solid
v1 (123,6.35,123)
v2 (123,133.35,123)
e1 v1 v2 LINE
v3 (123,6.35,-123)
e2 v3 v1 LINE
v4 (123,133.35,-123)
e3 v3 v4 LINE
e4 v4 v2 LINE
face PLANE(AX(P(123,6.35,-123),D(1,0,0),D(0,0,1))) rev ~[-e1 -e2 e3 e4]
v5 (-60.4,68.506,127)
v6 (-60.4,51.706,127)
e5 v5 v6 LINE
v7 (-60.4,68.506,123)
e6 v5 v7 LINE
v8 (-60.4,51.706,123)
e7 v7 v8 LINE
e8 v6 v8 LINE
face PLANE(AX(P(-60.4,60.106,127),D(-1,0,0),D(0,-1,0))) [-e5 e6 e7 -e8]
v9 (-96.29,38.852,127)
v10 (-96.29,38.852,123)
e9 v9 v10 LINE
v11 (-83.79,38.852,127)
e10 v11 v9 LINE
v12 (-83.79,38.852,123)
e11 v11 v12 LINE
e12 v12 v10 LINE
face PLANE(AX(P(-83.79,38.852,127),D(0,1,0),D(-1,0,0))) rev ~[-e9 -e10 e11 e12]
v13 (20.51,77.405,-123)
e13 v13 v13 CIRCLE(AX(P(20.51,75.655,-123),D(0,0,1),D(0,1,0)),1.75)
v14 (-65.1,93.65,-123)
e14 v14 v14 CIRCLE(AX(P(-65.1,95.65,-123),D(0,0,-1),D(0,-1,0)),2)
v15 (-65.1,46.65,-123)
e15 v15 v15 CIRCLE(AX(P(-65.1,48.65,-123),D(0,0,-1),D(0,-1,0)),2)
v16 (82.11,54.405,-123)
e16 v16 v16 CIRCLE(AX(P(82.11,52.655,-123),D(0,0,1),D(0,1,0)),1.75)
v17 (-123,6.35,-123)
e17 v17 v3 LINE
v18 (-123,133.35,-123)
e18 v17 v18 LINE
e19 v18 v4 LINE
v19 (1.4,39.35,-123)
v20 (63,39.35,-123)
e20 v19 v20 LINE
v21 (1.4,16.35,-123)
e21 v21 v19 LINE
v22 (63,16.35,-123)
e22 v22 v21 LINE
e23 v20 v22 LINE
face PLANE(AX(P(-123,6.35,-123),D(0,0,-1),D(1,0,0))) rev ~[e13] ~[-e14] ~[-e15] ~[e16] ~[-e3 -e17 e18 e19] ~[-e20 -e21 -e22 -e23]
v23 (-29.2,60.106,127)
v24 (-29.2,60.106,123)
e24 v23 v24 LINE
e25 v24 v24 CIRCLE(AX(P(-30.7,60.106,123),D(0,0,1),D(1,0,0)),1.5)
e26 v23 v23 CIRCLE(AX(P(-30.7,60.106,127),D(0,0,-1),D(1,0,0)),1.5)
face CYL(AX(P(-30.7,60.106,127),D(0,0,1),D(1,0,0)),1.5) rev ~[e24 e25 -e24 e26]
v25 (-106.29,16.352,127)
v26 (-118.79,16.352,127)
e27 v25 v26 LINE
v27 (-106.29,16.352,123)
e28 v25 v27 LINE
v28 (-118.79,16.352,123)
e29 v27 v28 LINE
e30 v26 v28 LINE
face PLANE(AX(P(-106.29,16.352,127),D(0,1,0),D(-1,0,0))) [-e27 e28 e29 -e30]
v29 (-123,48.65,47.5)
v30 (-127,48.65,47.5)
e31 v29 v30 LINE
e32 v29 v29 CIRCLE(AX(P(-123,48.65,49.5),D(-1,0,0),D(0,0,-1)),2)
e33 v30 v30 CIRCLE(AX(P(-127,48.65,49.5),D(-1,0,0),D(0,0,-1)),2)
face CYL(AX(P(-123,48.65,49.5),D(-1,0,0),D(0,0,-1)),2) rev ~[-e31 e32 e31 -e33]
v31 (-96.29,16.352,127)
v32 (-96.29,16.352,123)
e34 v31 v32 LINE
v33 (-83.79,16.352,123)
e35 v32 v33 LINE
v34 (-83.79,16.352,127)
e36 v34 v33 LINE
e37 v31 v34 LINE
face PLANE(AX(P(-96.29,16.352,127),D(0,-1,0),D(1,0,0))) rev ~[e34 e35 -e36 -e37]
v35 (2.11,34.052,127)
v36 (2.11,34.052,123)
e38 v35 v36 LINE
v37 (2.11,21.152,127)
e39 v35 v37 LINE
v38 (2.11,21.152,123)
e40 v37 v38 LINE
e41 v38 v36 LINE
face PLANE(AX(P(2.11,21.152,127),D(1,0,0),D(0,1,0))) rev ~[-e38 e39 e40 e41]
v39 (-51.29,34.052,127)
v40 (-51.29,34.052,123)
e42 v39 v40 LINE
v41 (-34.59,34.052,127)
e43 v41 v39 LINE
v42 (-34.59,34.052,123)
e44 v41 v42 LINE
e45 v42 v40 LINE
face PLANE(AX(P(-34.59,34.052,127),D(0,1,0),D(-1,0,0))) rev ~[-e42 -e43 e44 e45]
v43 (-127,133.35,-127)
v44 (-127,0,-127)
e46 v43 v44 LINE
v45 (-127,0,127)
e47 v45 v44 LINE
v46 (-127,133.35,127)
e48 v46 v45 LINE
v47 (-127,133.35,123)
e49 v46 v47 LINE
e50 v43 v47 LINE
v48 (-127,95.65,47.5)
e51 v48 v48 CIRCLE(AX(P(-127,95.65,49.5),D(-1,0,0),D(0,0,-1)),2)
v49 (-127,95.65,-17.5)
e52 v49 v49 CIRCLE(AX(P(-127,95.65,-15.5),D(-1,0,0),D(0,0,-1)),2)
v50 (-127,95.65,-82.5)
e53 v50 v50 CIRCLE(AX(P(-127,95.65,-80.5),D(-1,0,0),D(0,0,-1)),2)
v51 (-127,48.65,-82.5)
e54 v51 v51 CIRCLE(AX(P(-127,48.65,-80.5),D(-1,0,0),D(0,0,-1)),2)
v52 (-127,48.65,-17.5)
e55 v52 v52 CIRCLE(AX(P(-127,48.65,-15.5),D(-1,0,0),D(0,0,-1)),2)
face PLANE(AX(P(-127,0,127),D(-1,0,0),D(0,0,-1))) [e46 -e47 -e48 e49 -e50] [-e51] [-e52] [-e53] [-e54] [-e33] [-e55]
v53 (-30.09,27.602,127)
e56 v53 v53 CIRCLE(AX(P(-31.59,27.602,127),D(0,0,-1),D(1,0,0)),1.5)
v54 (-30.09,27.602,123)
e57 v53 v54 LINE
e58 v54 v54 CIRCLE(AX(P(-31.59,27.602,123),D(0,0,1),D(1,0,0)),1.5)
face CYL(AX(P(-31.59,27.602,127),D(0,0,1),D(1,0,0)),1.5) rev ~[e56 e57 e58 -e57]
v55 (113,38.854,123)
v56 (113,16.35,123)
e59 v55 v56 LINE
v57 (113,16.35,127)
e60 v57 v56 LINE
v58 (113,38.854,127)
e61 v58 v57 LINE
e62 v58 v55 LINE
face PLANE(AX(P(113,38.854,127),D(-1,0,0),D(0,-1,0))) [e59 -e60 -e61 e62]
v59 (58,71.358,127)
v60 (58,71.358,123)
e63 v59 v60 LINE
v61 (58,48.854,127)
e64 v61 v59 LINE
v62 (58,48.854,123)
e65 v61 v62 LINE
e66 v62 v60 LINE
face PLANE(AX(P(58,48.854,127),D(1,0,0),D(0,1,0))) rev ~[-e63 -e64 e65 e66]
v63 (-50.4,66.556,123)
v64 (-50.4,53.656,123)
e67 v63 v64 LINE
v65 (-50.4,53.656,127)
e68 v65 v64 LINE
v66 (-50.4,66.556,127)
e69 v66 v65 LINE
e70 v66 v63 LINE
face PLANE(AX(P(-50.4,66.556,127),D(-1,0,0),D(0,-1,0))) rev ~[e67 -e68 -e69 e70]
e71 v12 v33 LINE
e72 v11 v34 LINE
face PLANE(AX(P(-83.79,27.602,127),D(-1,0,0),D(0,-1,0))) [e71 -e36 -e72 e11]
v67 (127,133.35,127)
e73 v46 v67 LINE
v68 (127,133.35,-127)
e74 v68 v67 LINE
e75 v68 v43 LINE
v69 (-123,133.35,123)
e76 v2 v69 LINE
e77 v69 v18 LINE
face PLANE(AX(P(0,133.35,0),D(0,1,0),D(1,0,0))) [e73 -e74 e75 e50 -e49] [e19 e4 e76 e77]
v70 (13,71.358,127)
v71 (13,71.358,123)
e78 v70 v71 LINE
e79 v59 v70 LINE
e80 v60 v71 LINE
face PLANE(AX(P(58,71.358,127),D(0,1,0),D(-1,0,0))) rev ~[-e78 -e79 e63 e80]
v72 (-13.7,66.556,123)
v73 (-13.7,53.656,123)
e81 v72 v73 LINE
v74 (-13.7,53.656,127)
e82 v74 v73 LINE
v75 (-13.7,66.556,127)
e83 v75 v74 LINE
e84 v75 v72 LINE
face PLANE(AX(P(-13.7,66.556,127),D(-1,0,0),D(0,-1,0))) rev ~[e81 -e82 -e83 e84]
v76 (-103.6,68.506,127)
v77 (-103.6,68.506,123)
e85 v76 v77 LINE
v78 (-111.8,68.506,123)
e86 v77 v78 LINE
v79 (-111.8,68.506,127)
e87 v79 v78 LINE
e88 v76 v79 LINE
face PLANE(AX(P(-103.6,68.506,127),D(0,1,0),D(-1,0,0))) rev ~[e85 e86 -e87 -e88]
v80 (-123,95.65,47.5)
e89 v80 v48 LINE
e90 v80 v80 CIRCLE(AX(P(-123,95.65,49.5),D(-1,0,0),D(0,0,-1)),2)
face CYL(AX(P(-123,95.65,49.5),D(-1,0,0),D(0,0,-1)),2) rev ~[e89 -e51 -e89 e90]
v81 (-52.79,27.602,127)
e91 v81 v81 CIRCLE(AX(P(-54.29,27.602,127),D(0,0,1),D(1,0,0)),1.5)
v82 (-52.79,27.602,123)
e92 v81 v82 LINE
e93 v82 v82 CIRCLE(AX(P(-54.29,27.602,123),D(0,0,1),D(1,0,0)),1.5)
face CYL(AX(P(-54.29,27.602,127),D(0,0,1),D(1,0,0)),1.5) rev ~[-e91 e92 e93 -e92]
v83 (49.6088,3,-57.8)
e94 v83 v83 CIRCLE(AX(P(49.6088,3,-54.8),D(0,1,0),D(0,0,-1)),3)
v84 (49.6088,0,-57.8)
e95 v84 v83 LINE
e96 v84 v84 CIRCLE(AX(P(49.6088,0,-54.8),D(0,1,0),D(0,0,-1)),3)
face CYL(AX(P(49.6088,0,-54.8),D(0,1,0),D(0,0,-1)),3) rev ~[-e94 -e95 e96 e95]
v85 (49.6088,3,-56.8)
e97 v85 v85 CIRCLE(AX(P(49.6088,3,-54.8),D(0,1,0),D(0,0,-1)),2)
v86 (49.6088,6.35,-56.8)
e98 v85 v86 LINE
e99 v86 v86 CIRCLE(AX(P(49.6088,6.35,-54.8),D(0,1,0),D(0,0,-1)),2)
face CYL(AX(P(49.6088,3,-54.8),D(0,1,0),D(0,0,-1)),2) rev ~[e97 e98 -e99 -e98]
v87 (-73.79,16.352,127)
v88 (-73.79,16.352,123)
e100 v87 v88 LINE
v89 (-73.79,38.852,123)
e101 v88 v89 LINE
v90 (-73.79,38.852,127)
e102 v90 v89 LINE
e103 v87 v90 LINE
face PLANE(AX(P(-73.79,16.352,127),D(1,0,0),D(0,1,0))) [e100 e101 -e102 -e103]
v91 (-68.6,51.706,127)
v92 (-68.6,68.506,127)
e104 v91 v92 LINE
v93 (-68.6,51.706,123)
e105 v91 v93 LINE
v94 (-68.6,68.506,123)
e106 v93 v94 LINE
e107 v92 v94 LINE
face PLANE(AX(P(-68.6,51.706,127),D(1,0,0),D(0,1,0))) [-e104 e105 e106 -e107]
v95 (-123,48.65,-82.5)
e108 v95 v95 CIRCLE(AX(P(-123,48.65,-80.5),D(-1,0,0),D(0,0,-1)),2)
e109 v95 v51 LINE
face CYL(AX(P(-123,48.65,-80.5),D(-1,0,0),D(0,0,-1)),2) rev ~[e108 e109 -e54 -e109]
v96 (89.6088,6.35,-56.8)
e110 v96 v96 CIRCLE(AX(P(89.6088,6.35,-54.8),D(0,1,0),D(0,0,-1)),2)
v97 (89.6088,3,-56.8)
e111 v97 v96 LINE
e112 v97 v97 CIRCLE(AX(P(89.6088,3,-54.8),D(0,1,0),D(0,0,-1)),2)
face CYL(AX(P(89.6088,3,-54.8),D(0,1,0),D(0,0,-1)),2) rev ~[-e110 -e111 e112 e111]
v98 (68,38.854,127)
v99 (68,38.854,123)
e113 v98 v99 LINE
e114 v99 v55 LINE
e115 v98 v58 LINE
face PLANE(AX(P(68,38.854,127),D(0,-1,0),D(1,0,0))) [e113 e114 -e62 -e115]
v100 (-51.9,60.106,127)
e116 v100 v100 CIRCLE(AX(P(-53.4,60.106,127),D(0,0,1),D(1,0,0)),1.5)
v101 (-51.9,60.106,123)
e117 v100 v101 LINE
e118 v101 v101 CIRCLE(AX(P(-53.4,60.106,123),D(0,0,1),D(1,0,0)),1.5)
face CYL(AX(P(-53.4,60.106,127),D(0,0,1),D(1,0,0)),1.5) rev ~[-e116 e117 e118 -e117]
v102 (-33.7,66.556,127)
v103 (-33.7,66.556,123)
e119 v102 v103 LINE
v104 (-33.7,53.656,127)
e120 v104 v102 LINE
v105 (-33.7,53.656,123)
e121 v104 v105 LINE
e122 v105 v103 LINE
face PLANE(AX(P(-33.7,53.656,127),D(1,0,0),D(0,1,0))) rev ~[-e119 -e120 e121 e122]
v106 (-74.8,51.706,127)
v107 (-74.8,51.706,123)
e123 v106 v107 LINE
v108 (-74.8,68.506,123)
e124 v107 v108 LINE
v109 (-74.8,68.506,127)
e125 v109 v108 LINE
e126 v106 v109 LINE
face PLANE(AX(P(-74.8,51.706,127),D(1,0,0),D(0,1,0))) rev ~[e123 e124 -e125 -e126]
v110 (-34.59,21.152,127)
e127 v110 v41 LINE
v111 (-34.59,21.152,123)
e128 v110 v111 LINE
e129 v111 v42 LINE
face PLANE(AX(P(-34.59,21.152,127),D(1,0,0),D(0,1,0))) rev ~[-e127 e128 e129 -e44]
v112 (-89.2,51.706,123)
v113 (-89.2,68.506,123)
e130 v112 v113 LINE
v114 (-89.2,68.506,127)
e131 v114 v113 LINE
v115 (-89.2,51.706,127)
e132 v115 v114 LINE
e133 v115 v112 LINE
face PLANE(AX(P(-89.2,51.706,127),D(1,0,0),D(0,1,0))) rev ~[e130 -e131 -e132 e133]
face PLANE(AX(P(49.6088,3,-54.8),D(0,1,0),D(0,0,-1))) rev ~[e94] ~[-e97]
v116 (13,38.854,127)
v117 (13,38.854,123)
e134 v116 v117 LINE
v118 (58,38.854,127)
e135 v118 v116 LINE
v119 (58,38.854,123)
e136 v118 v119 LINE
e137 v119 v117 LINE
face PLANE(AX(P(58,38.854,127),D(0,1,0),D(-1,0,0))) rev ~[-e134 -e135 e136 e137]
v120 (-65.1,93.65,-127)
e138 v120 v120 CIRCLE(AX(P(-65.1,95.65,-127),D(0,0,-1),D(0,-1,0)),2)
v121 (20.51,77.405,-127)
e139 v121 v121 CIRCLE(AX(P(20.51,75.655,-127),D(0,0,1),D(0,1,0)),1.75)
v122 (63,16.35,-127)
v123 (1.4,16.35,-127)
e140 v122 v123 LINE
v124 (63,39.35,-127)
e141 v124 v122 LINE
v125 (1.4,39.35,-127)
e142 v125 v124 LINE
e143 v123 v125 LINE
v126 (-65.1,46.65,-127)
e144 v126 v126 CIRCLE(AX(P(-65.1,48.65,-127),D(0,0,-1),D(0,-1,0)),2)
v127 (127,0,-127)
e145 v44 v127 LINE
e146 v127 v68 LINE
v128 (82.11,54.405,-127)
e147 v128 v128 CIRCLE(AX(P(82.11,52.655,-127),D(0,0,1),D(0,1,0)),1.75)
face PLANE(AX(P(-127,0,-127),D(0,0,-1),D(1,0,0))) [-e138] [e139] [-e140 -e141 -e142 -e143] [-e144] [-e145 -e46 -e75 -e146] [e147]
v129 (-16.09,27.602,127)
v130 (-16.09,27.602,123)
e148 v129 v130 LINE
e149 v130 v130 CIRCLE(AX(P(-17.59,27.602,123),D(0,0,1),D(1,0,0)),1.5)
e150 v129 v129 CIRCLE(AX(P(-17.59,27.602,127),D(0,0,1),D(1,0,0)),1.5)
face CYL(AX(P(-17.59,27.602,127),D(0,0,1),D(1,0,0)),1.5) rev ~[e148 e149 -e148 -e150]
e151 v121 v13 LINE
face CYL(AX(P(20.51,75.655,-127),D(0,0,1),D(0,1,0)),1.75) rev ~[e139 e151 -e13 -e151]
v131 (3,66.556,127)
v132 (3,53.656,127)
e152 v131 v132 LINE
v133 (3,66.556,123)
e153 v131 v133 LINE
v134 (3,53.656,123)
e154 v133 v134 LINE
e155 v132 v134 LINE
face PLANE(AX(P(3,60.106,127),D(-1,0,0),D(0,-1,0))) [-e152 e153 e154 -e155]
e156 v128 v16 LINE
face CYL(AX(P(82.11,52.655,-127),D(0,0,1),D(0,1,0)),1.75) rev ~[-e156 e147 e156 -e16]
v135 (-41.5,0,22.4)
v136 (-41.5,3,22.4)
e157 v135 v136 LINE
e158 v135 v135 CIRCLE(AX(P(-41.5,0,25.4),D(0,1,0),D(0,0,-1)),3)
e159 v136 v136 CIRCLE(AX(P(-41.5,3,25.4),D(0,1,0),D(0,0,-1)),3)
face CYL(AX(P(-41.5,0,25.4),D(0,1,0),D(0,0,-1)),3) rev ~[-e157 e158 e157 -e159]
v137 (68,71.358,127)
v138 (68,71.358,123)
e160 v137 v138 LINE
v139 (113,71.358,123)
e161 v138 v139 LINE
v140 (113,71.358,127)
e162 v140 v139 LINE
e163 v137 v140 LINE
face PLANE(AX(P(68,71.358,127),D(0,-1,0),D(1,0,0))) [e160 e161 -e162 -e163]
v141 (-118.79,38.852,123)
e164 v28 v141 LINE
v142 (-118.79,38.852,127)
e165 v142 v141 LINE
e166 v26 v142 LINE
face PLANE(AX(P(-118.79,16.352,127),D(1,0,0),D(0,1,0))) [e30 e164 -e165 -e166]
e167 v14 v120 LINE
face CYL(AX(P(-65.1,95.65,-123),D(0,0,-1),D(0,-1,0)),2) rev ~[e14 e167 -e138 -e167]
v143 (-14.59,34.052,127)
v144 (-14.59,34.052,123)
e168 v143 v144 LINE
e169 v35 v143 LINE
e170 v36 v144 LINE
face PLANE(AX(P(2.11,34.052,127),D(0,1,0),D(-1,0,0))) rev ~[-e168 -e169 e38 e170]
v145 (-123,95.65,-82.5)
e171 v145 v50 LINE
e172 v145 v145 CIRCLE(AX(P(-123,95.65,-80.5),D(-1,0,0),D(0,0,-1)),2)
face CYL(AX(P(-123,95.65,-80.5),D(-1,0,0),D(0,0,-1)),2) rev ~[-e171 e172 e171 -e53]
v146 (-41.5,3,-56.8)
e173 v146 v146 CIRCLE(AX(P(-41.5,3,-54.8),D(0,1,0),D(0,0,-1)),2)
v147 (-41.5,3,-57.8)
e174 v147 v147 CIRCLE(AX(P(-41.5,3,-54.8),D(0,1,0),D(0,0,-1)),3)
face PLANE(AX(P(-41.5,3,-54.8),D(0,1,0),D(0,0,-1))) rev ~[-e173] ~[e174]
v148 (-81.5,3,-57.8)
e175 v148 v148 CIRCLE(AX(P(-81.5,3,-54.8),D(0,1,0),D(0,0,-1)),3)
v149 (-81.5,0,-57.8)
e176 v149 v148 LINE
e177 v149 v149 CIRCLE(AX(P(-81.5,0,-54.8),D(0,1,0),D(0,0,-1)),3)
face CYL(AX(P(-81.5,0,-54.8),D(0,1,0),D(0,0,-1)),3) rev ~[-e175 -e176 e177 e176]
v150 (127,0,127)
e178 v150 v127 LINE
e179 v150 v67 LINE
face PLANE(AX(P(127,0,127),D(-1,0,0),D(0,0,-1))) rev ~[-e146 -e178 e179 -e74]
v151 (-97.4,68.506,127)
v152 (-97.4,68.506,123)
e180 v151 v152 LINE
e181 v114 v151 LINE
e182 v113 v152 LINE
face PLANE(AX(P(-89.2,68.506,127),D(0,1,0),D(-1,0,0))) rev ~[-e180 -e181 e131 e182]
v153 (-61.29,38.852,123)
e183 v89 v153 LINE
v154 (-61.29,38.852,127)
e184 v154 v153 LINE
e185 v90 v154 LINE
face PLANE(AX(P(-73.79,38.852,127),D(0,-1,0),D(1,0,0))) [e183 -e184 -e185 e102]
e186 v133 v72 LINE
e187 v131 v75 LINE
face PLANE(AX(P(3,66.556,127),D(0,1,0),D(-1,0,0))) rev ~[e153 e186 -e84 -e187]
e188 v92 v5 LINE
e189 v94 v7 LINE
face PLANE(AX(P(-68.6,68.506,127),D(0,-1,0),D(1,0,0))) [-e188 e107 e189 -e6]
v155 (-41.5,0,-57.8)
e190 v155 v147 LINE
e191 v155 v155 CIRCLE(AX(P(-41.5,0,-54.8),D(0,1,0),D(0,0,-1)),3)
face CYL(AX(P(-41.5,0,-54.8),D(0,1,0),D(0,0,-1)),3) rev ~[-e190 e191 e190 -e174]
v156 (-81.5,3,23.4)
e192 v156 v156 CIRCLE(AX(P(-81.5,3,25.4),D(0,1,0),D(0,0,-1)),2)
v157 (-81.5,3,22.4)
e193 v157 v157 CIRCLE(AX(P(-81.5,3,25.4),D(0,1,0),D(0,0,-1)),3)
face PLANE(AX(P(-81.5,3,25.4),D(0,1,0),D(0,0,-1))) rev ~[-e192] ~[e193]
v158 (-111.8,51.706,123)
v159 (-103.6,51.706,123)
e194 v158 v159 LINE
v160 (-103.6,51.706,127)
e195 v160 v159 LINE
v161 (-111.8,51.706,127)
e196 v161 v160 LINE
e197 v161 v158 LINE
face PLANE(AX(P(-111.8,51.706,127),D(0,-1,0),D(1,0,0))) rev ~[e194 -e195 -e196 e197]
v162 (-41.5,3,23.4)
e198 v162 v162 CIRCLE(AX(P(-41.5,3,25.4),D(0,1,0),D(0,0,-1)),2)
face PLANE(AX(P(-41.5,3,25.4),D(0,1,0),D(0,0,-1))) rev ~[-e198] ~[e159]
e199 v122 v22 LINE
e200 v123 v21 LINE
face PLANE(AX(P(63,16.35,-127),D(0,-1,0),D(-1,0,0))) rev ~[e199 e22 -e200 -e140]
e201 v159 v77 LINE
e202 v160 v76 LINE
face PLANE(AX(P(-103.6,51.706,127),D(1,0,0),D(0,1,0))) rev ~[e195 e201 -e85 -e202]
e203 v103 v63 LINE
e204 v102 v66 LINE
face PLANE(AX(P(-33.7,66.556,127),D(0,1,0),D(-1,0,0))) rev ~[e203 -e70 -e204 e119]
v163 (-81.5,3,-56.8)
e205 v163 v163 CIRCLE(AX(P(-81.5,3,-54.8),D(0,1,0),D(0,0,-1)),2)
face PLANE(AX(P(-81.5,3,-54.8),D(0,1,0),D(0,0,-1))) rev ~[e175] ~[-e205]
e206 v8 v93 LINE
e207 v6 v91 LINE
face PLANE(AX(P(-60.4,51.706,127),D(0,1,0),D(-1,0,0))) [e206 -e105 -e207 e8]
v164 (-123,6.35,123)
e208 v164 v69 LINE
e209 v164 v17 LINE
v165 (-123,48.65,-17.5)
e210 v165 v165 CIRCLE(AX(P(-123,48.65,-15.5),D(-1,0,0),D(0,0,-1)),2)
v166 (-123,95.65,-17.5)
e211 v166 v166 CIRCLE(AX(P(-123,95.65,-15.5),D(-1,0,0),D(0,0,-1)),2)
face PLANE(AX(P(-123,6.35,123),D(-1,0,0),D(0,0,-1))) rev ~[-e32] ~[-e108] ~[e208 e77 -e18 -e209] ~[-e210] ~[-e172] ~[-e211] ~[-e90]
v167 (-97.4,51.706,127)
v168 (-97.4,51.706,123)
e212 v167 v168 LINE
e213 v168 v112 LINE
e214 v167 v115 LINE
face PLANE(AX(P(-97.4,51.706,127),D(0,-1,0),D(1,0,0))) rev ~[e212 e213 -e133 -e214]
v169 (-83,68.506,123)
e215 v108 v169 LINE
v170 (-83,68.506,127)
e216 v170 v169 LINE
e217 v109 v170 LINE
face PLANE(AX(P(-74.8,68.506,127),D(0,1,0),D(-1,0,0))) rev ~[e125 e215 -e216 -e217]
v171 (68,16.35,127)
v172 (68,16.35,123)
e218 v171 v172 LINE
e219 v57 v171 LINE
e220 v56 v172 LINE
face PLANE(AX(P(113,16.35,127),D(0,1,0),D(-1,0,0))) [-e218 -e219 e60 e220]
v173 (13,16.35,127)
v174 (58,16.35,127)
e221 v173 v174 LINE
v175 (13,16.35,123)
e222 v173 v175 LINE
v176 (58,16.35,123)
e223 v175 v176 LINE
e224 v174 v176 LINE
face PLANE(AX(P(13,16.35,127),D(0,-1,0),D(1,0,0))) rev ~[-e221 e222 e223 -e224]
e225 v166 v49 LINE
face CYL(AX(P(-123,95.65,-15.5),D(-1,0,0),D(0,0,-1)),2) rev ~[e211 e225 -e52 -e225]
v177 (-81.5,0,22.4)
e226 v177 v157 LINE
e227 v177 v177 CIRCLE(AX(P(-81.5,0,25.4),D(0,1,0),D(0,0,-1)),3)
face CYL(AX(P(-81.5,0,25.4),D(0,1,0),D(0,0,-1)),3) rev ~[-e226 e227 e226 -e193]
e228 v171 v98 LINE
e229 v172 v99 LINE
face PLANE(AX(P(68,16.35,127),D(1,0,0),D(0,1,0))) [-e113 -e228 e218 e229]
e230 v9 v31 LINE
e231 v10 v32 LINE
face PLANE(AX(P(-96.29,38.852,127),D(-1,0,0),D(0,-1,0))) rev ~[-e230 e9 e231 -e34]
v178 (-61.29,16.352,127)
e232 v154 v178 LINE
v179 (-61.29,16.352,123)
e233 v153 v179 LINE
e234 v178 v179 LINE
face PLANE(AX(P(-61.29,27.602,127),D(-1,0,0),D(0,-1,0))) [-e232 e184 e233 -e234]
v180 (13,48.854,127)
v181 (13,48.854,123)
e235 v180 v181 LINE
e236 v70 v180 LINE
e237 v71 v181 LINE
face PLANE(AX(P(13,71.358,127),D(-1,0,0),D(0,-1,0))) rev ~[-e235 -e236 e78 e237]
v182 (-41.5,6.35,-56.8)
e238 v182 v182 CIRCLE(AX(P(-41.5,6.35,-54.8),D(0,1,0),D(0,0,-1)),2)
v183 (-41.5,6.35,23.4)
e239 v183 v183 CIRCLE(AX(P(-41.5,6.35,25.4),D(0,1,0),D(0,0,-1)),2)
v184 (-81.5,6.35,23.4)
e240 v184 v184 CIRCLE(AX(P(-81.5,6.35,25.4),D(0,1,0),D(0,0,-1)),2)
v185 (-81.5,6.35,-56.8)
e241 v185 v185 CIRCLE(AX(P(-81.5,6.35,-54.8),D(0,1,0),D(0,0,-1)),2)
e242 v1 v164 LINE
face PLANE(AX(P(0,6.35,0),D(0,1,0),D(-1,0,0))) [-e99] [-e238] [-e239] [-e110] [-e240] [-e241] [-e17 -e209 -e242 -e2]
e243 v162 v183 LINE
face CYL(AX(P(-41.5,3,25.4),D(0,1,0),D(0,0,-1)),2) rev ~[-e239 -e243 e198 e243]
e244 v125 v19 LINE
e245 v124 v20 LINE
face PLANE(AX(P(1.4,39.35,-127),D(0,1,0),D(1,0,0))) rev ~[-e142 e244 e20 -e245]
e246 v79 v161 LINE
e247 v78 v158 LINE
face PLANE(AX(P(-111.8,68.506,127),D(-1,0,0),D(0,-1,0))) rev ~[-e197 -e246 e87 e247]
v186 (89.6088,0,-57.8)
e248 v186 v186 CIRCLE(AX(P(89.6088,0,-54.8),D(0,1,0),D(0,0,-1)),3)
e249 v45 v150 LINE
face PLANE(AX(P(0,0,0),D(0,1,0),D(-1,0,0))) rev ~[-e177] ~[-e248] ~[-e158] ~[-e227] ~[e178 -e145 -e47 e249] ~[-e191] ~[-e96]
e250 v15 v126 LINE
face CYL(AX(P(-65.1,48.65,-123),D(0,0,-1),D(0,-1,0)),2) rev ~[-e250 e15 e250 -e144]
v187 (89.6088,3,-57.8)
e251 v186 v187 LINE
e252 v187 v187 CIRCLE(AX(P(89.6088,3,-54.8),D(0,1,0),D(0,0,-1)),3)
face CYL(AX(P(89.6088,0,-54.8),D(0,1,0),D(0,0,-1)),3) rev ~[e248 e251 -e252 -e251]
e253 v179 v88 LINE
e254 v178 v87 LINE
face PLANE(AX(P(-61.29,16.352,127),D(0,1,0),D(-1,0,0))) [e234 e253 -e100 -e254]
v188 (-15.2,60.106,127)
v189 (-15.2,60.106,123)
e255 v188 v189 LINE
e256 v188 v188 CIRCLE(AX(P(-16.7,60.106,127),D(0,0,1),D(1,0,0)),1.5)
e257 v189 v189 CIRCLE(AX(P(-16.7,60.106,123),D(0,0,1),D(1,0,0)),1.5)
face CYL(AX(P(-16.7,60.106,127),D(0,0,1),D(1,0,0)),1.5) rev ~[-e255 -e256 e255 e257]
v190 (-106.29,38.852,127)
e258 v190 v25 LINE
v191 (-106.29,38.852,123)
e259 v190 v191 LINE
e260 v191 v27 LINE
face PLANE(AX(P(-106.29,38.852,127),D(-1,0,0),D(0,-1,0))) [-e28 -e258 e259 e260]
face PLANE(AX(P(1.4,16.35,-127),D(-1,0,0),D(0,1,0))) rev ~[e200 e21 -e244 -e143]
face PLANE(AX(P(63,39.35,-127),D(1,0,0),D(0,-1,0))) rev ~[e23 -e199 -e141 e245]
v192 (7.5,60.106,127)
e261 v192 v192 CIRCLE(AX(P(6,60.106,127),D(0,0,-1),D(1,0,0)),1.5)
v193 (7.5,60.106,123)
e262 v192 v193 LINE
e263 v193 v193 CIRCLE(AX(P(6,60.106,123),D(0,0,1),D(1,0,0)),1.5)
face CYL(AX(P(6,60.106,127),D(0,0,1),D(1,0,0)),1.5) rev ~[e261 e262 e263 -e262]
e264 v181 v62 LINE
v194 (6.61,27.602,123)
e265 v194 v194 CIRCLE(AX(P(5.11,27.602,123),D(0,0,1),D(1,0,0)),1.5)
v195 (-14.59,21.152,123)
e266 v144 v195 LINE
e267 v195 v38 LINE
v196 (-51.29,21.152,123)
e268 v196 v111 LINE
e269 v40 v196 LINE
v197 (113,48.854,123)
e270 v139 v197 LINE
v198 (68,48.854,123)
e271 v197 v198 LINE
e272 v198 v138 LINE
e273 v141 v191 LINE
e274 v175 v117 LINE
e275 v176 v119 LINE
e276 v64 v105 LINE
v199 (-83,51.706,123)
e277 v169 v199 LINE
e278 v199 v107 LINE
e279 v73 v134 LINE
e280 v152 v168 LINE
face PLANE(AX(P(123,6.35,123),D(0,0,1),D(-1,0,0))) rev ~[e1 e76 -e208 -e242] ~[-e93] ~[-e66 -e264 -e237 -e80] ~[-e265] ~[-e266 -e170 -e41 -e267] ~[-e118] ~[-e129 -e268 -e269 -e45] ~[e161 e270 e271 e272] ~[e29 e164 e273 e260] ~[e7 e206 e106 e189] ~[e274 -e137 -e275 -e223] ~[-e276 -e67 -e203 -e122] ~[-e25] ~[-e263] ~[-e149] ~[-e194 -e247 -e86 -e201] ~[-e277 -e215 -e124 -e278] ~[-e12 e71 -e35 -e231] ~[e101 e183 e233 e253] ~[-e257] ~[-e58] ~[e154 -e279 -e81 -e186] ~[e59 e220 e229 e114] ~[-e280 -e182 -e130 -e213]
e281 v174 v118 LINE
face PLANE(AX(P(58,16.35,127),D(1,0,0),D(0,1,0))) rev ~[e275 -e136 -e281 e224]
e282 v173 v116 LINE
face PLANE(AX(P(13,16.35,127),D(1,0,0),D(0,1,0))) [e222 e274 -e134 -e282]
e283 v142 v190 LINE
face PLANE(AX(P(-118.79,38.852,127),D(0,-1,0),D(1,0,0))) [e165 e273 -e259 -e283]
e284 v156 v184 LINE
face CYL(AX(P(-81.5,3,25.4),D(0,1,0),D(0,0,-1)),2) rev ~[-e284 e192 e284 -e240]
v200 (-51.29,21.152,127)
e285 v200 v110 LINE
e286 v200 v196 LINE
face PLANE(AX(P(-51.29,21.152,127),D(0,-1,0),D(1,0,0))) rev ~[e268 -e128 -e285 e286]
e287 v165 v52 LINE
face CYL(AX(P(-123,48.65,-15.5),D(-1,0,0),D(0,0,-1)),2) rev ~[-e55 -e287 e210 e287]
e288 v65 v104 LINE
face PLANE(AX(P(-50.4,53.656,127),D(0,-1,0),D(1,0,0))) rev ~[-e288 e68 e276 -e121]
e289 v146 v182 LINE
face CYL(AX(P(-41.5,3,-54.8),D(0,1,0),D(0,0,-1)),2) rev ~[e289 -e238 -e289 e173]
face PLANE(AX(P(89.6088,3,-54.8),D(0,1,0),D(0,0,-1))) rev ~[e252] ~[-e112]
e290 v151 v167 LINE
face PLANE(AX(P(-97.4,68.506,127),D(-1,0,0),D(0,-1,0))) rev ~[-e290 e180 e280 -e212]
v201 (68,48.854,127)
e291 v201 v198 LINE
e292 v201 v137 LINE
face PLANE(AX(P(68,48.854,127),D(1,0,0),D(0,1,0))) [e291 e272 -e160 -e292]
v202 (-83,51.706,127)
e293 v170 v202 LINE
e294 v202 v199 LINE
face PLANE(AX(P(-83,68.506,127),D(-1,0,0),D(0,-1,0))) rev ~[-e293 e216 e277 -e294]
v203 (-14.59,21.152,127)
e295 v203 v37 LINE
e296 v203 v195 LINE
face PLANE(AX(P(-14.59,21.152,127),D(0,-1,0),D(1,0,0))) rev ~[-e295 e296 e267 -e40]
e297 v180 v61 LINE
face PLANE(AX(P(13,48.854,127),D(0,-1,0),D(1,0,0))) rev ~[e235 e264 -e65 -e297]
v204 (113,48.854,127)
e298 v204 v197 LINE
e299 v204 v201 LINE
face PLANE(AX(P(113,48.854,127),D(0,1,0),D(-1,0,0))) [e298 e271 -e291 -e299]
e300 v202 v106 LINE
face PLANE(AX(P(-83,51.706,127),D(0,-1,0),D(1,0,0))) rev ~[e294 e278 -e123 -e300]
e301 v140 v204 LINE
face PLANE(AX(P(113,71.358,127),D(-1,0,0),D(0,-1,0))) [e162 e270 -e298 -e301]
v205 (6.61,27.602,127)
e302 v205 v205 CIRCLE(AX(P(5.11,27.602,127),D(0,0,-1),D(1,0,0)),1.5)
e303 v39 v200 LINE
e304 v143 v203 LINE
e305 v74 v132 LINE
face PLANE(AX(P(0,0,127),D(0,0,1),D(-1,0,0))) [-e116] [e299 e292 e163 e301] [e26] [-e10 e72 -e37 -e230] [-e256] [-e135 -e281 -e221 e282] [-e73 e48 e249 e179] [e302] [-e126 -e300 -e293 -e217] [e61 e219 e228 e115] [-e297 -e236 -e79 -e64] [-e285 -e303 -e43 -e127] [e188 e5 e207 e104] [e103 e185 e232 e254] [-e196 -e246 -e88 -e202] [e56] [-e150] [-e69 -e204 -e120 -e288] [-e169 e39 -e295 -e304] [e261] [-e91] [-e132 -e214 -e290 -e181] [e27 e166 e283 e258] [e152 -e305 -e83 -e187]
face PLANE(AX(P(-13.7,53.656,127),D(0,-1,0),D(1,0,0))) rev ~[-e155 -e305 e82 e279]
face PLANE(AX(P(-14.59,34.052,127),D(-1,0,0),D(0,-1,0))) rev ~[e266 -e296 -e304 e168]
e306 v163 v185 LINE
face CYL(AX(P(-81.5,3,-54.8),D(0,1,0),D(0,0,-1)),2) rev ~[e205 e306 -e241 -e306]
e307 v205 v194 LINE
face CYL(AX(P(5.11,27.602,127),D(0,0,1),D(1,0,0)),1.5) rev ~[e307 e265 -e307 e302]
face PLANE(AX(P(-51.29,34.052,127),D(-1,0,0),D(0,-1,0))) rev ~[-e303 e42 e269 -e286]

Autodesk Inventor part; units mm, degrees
ref_plane "YZ Plane" through (0, 0, 0) normal (1, 0, 0) x (0, 1, 0)
ref_plane "XZ Plane" through (0, 0, 0) normal (0, 1, 0) x (-1, 0, 0)
ref_plane "XY Plane" through (0, 0, 0) normal (0, 0, 1) x (1, 0, 0)
sketch "Sketch1" plane through (0, 0, 0) normal (0, 1, 0) x (-1, 0, 0)
  line L0 (0, 0) -> (0, 127)
  line L1 (0, 127) -> (127, 127)
  line L2 (127, 127) -> (127, -127)
  line L3 (127, -127) -> (-127, -127)
  line L4 (0, 127) -> (-127, 127)
  line L5 (-127, 127) -> (-127, -127)
  dimension "d0" = 127
  dimension "d1" = 127
  dimension "d2" = 254
  dimension "d3" = 254
  dimension "d4" = 127
extrude "Extrusion1" add sketch "Sketch1" along normal blind 6.35
sketch "Sketch2" plane through (0, 6.35, 0) normal (0, 1, 0) x (1, 0, 0)
  line L0 (-127, -127) -> (127, -127) projected
  line L1 (-127, -127) -> (-127, -123)
  line L2 (-127, 127) -> (-127, -127) projected
  line L3 (-127, -123) -> (-123, -123)
  line L4 (-123, -123) -> (-123, 123)
  line L5 (-123, 123) -> (123, 123)
  line L6 (127, 127) -> (-127, 127) projected
  line L7 (123, 123) -> (123, -123)
  line L8 (123, -123) -> (-123, -123)
  line L9 (-127, -127) -> (127, -127)
  line L10 (127, 127) -> (127, -127)
  line L11 (-127, 127) -> (127, 127)
  line L12 (-127, 127) -> (-127, -127)
  point P0 (0, 0)
  dimension "d7" = 4
  dimension "d8" = 4
  dimension "d9" = 246
  dimension "d10" = 246
  dimension "d11" = 90
extrude "Extrusion2" add sketch "Sketch2" along normal blind 127
sketch "Sketch3" plane through (-127, 0, 127) normal (0, 0, 1) x (1, 0, 0)
  line L0 (4, 6.35) -> (250, 6.35) projected
  line L1 (250, 6.35) -> (250, 16.35)
  line L2 (250, 6.35) -> (250, 133.35) projected
  line L3 (250, 16.35) -> (240, 16.35)
  line L4 (240, 16.35) -> (195, 16.35)
  line L5 (195, 16.35) -> (195, 38.854)
  line L6 (195, 38.854) -> (240, 38.854)
  line L7 (240, 38.854) -> (240, 16.35)
  line L8 (240, 38.854) -> (240, 48.854)
  line L9 (240, 48.854) -> (195, 48.854)
  line L10 (195, 48.854) -> (195, 71.358)
  line L11 (195, 71.358) -> (240, 71.358)
  line L12 (240, 71.358) -> (240, 48.854)
  line L13 (195, 48.854) -> (185, 48.854)
  line L14 (185, 48.854) -> (185, 71.358)
  line L15 (185, 71.358) -> (140, 71.358)
  line L16 (140, 71.358) -> (140, 48.854)
  line L17 (140, 48.854) -> (185, 48.854)
  line L18 (185, 48.854) -> (185, 38.854)
  line L19 (185, 38.854) -> (140, 38.854)
  line L20 (140, 16.35) -> (140, 38.854)
  line L21 (140, 16.35) -> (185, 16.35)
  line L22 (185, 16.35) -> (185, 38.854)
  point P0 (127, 0)
  dimension "d14" = 10
  dimension "d15" = 10
  dimension "d16" = 45
  dimension "d17" = 22.504
  dimension "d18" = 10
  dimension "d19" = 22.504
  dimension "d20" = 10
  dimension "d21" = 45
sketch "Sketch4" plane through (-127, 0, 127) normal (0, 0, 1) x (1, 0, 0)
  line L0 (140, 71.358) -> (140, 48.854) projected
  line L1 (0, 0) -> (254, 0) projected
  line L2 (254, 0) -> (254, 133.35) projected
  line L3 (0, 133.35) -> (254, 133.35) projected
  line L4 (0, 0) -> (0, 133.35) projected
  line L5 (140, 16.35) -> (140, 38.854) projected
  line L6 (140, 60.106) -> (130, 60.106)
  line L7 (130, 60.106) -> (130, 66.556)
  line L8 (130, 66.556) -> (130, 60.106)
  line L9 (130, 60.106) -> (130, 53.656)
  line L10 (130, 66.556) -> (113.3, 66.556)
  line L11 (113.3, 66.556) -> (113.3, 53.656)
  line L12 (113.3, 53.656) -> (130, 53.656)
  line L13 (113.3, 66.556) -> (93.3, 66.556)
  line L14 (93.3, 66.556) -> (76.6, 66.556)
  line L15 (76.6, 66.556) -> (76.6, 53.656)
  line L16 (76.6, 53.656) -> (93.3, 53.656)
  line L17 (93.3, 53.656) -> (93.3, 66.556)
  line L18 (140, 27.602) -> (129.11, 27.602)
  line L19 (129.11, 27.602) -> (129.11, 34.052)
  line L20 (129.11, 34.052) -> (112.41, 34.052)
  line L21 (112.41, 34.052) -> (112.41, 21.152)
  line L22 (112.41, 21.152) -> (129.11, 21.152)
  line L23 (129.11, 21.152) -> (129.11, 27.602)
  line L24 (112.41, 34.052) -> (92.41, 34.052)
  line L25 (92.41, 34.052) -> (75.71, 34.052)
  line L26 (75.71, 21.152) -> (92.41, 21.152)
  line L27 (92.41, 21.152) -> (92.41, 34.052)
  line L28 (75.71, 34.052) -> (75.71, 21.152)
  point P0 (127, 0)
  dimension "d22" = 10
  dimension "d23" = 6.45
  dimension "d24" = 6.45
  dimension "d25" = 16.7
  dimension "d26" = 20
  dimension "d27" = 16.7
  dimension "d28" = 6.45
  dimension "d29" = 12.9
  dimension "d162" = 20
  dimension "d163" = 16.7
  dimension "d164" = 16.7
extrude "Extrusion4" cut sketch "Sketch4" against normal blind 101.6 contours L9 L12 L11 L10 L7 | L17 L16 L15 L14 | L23 L22 L21 L20 L19 | L27 L26 L28 L25
extrude "Extrusion5" cut sketch "Sketch3" against normal blind 19
sketch "Sketch6" plane through (-127, 0, 127) normal (0, 0, 1) x (1, 0, 0)
  line L0 (76.6, 53.656) -> (76.6, 66.556) projected
  line L1 (76.6, 60.106) -> (66.6, 60.106)
  line L2 (66.6, 60.106) -> (66.6, 51.706)
  line L3 (66.6, 51.706) -> (58.4, 51.706)
  line L4 (58.4, 51.706) -> (58.4, 68.506)
  line L5 (58.4, 68.506) -> (66.6, 68.506)
  line L6 (66.6, 68.506) -> (66.6, 60.106)
  line L7 (58.4, 68.506) -> (55.3, 68.506)
  line L8 (55.3, 68.506) -> (52.2, 68.506)
  line L9 (52.2, 68.506) -> (44, 68.506)
  line L10 (44, 68.506) -> (44, 51.706)
  line L11 (44, 51.706) -> (52.2, 51.706)
  line L12 (52.2, 51.706) -> (52.2, 68.506)
  line L13 (44, 68.506) -> (37.8, 68.506)
  line L14 (37.8, 68.506) -> (29.6, 68.506)
  line L15 (29.6, 68.506) -> (29.6, 51.706)
  line L16 (29.6, 51.706) -> (37.8, 51.706)
  line L17 (37.8, 51.706) -> (37.8, 68.506)
  line L18 (29.6, 68.506) -> (23.4, 68.506)
  line L19 (23.4, 68.506) -> (15.2, 68.506)
  line L20 (15.2, 68.506) -> (15.2, 51.706)
  line L21 (15.2, 51.706) -> (23.4, 51.706)
  line L22 (23.4, 51.706) -> (23.4, 68.506)
  point P0 (127, 0)
  dimension "d38" = 10
  dimension "d39" = 8.4
  dimension "d40" = 8.2
  dimension "d41" = 16.8
  dimension "d42" = 3.1
  dimension "d43" = 3.1
  dimension "d44" = 8.2
  dimension "d45" = 6.2
  dimension "d46" = 8.2
  dimension "d47" = 6.2
  dimension "d48" = 8.2
  dimension "d232" = 16.8
  dimension "d233" = 16.8
  dimension "d234" = 16.8
sketch "Sketch7" plane through (-127, 0, 127) normal (0, 0, 1) x (1, 0, 0)
  line L0 (85.71, 27.602) -> (65.71, 27.602)
  line L1 (65.71, 27.602) -> (65.71, 38.852)
  line L2 (65.71, 27.602) -> (65.71, 16.352)
  line L3 (65.71, 16.352) -> (53.21, 16.352)
  line L4 (53.21, 16.352) -> (53.21, 38.852)
  line L5 (53.21, 38.852) -> (65.71, 38.852)
  line L6 (53.21, 27.602) -> (43.21, 27.602)
  line L7 (43.21, 27.602) -> (43.21, 38.852)
  line L8 (43.21, 38.852) -> (30.71, 38.852)
  line L9 (30.71, 38.852) -> (30.71, 16.352)
  line L10 (30.71, 16.352) -> (43.21, 16.352)
  line L11 (43.21, 27.602) -> (43.21, 16.352)
  line L12 (30.71, 38.852) -> (20.71, 38.852)
  line L13 (20.71, 38.852) -> (20.71, 16.352)
  line L14 (20.71, 16.352) -> (8.21, 16.352)
  line L15 (8.21, 16.352) -> (8.21, 38.852)
  line L16 (8.21, 38.852) -> (20.71, 38.852)
  point P0 (127, 0)
  dimension "d49" = 20
  dimension "d50" = 11.25
  dimension "d51" = 11.25
  dimension "d52" = 12.5
  dimension "d53" = 10
  dimension "d54" = 12.5
  dimension "d55" = 10
  dimension "d56" = 12.5
extrude "Extrusion9" cut sketch "Sketch6" against normal blind 19
extrude "Extrusion11" cut sketch "Sketch7" against normal blind 10
sketch "Sketch12" plane through (0, 0, 0) normal (0, 1, 0) x (1, 0, 0)
  line L0 (-123, -123) -> (123, -123) projected
  line L1 (89.6088, -123) -> (89.6088, 4)
  line L2 (89.6088, -123) -> (216.6088, -123) construction
  line L3 (89.6088, 4) -> (89.6088, 54.8)
  line L4 (89.6088, 54.8) -> (49.6088, 54.8)
  circle A0 centre (89.6088, 54.8) radius 1.75
  circle A1 centre (49.6088, 54.8) radius 1.75
  line L5 (34.61, -135.8133) -> (161.61, -135.8133) construction
  line L6 (-61.29, -127) -> (-61.29, -123) projected
  line L7 (-61.29, -123) -> (65.71, -123) construction
  line L8 (-127, -127) -> (127, -127) projected
  line L9 (0, -127) -> (-61.5, -127)
  line L10 (-61.5, -127) -> (-61.5, -25.4)
  line L11 (-61.5, -25.4) -> (-81.5, -25.4)
  line L12 (-81.5, -25.4) -> (-41.5, -25.4)
  line L13 (-41.5, -25.4) -> (-41.5, 54.8)
  line L14 (-41.5, 54.8) -> (-81.5, 54.8)
  circle A2 centre (-41.5, -25.4) radius 1.75
  circle A3 centre (-81.5, -25.4) radius 1.75
  circle A4 centre (-81.5, 54.8) radius 1.75
  circle A5 centre (-41.5, 54.8) radius 1.75
  dimension "d84" = 127
  dimension "d85" = 90
  dimension "d86" = 50.8
  dimension "d87" = 40
  dimension "d88" = 3.5
  dimension "d89" = 3.5
  dimension "d97" = 61.5
  dimension "d98" = 101.6
  dimension "d99" = 20
  dimension "d100" = 40
  dimension "d101" = 40
  dimension "d102" = 3.5
  dimension "d103" = 3.5
  dimension "d104" = 3.5
  dimension "d105" = 3.5
sketch "Sketch13" plane through (-123, 6.35, 123) normal (1, 0, 0) x (0, 0, -1)
  line L0 (246, 127) -> (236, 127)
  line L1 (0, 127) -> (246, 127) projected
  line L2 (236, 127) -> (226, 127)
  line L3 (226, 127) -> (226, 94.3)
  line L4 (226, 94.3) -> (181, 94.3)
  line L5 (181, 94.3) -> (181, 37.3)
  line L6 (181, 37.3) -> (226, 37.3)
  line L7 (226, 37.3) -> (226, 94.3)
  line L8 (181, 94.3) -> (161, 94.3)
  line L9 (161, 94.3) -> (161, 37.3)
  line L10 (161, 37.3) -> (116, 37.3)
  line L11 (116, 37.3) -> (116, 94.3)
  line L12 (116, 94.3) -> (161, 94.3)
  line L13 (116, 94.3) -> (96, 94.3)
  line L14 (116, 94.3) -> (136, 94.3) construction
  line L15 (96, 94.3) -> (96, 37.3)
  line L16 (96, 37.3) -> (51, 37.3)
  line L17 (51, 37.3) -> (51, 94.3)
  line L18 (51, 94.3) -> (96, 94.3)
  line L19 (73.5, 94.3) -> (73.5, 89.3)
  line L20 (73.5, 37.3) -> (73.5, 42.3)
  line L21 (138.5, 94.3) -> (138.5, 89.3)
  line L22 (138.5, 89.3) -> (138.5, 42.3)
  line L23 (203.5, 94.3) -> (203.5, 89.3)
  line L24 (203.5, 89.3) -> (203.5, 42.3)
  circle A0 centre (73.5, 42.3) radius 2
  circle A1 centre (73.5, 89.3) radius 2
  circle A2 centre (138.5, 89.3) radius 2
  circle A3 centre (138.5, 42.3) radius 2
  circle A4 centre (203.5, 42.3) radius 2
  circle A5 centre (203.5, 89.3) radius 2
  line L25 (51, 94.3) -> (31, 94.3)
  line L26 (51, 94.3) -> (71, 94.3) construction
  point P0 (123, -6.35)
  dimension "d108" = 10
  dimension "d109" = 10
  dimension "d110" = 32.7
  dimension "d111" = 90
  dimension "d112" = 45
  dimension "d113" = 57
  dimension "d114" = 20
  dimension "d115" = 45
  dimension "d116" = 20
  dimension "d117" = 180
  dimension "d118" = 57
  dimension "d119" = 45
  dimension "d120" = 5
  dimension "d121" = 5
  dimension "d122" = 5
  dimension "d123" = 4
  dimension "d124" = 4
  dimension "d125" = 4
  dimension "d126" = 4
  dimension "d127" = 4
  dimension "d128" = 4
  dimension "d151" = 20
  dimension "d152" = 180
sketch "Sketch17" plane through (-127, 0, 127) normal (0, 0, 1) x (1, 0, 0)
  line L0 (93.3, 53.656) -> (93.3, 66.556) projected
  line L1 (93.3, 60.106) -> (96.3, 60.106)
  line L2 (96.3, 60.106) -> (100.3, 60.106)
  circle A0 centre (96.3, 60.106) radius 1.5
  line L3 (76.6, 53.656) -> (76.6, 66.556) projected
  line L4 (76.6, 60.106) -> (73.6, 60.106)
  line L5 (75.71, 21.152) -> (75.71, 34.052) projected
  line L6 (75.71, 27.602) -> (72.71, 27.602)
  line L7 (92.41, 34.052) -> (92.41, 21.152) projected
  line L8 (92.41, 27.602) -> (95.41, 27.602)
  line L9 (113.3, 53.656) -> (113.3, 66.556) projected
  line L10 (113.3, 60.106) -> (110.3, 60.106)
  line L11 (112.41, 21.152) -> (112.41, 34.052) projected
  line L12 (112.41, 27.602) -> (109.41, 27.602)
  line L13 (129.11, 34.052) -> (129.11, 21.152) projected
  line L14 (129.11, 27.602) -> (132.11, 27.602)
  line L15 (130, 66.556) -> (130, 53.656) projected
  line L16 (130, 60.106) -> (133, 60.106)
  circle A1 centre (110.3, 60.106) radius 1.5
  circle A2 centre (133, 60.106) radius 1.5
  circle A3 centre (132.11, 27.602) radius 1.5
  circle A4 centre (95.41, 27.602) radius 1.5
  circle A5 centre (109.41, 27.602) radius 1.5
  circle A6 centre (72.71, 27.602) radius 1.5
  circle A7 centre (73.6, 60.106) radius 1.5
  point P0 (127, 0)
  dimension "d147" = 3
  dimension "d148" = 4
  dimension "d150" = 3
  dimension "d165" = 3
  dimension "d166" = 3
  dimension "d167" = 3
  dimension "d168" = 3
  dimension "d169" = 3
  dimension "d170" = 3
  dimension "d171" = 3
  dimension "d172" = 3
  dimension "d173" = 3
  dimension "d174" = 3
  dimension "d175" = 3
  dimension "d176" = 3
  dimension "d177" = 3
  dimension "d178" = 3
sketch "Sketch18" plane through (-123, 6.35, -123) normal (0, 0, 1) x (1, 0, 0)
  line L0 (0, 127) -> (35.4, 127)
  line L1 (0, 127) -> (246, 127) projected
  line L2 (35.4, 127) -> (35.4, 94.3)
  line L3 (35.4, 94.3) -> (80.4, 94.3)
  line L4 (80.4, 94.3) -> (80.4, 37.3)
  line L5 (80.4, 37.3) -> (35.4, 37.3)
  line L6 (35.4, 37.3) -> (35.4, 94.3)
  line L7 (57.9, 94.3) -> (57.9, 89.3)
  line L8 (57.9, 89.3) -> (57.9, 42.3)
  circle A0 centre (57.9, 89.3) radius 2
  circle A1 centre (57.9, 42.3) radius 2
  point P0 (123, -6.35)
  dimension "d153" = 35.4
  dimension "d154" = 32.7
  dimension "d155" = 90
  dimension "d156" = 45
  dimension "d157" = 57
  dimension "d158" = 5
  dimension "d159" = 47
  dimension "d160" = 4
  dimension "d161" = 4
extrude "Extrusion18" cut sketch "Sketch17" against normal blind 10
sketch "Sketch19" plane through (127, 0, -127) normal (0, 0, -1) x (-1, 0, 0)
  line L0 (4, 6.35) -> (4, 133.35) projected
  line L1 (4, 6.35) -> (64, 6.35)
  line L2 (4, 6.35) -> (250, 6.35) projected
  line L3 (64, 6.35) -> (64, 16.35)
  line L4 (64, 16.35) -> (125.6, 16.35)
  line L5 (14, 16.35) -> (59, 16.35) projected
  line L6 (125.6, 16.35) -> (125.6, 39.35)
  line L7 (125.6, 39.35) -> (64, 39.35)
  line L8 (59, 38.854) -> (14, 38.854) projected
  line L9 (64, 39.35) -> (64, 16.35)
  point P0 (127, 0)
  dimension "d204" = 60
  dimension "d205" = 10
  dimension "d206" = 61.6
  dimension "d207" = 23
  dimension "d208" = 61.6
  dimension "d209" = 90
extrude "Extrusion21" cut sketch "Sketch19" against normal blind 5
sketch "Sketch20" plane through (127, 0, -127) normal (0, 0, -1) x (-1, 0, 0)
  line L0 (44.89, 52.655) -> (106.49, 52.655)
  line L1 (44.89, 52.655) -> (106.49, 52.655) construction
  line L2 (106.49, 52.655) -> (106.49, 75.655)
  circle A0 centre (44.89, 52.655) radius 1.75
  circle A1 centre (106.49, 75.655) radius 1.75
  line L3 (61, 43.854) -> (4, 43.854) projected
  line L4 (64, 39.35) -> (125.6, 39.35) projected
  point P0 (127, 0)
  dimension "d190" = 61.6
  dimension "d191" = 0
  dimension "d192" = 23
  dimension "d193" = 90
  dimension "d194" = 3.5
  dimension "d195" = 3.5
hole "Hole1" at (89.6088, 0, -54.8) at (49.6088, 0, -54.8) at (-41.5, 0, -54.8) at (-81.5, 0, -54.8) at (-41.5, 0, 25.4) at (-81.5, 0, 25.4) direction (0, 1, 0) diameter 4 end through all counterbore diameter 6 counterbore depth 3
hole "Hole2" at (-123, 48.65, 49.5) at (-123, 95.65, 49.5) at (-123, 48.65, -15.5) at (-123, 95.65, -15.5) at (-123, 48.65, -80.5) at (-123, 95.65, -80.5) direction (-1, 0, 0) diameter 4 end through all
hole "Hole3" at (-65.1, 95.65, -123) at (-65.1, 48.65, -123) direction (0, 0, -1) diameter 4 depth 5.3
hole "Hole4" at (20.51, 75.655, -127) at (82.11, 52.655, -127) direction (0, 0, 1) diameter 3.5 depth 5.5
properties part number "box but slightly bigger"
